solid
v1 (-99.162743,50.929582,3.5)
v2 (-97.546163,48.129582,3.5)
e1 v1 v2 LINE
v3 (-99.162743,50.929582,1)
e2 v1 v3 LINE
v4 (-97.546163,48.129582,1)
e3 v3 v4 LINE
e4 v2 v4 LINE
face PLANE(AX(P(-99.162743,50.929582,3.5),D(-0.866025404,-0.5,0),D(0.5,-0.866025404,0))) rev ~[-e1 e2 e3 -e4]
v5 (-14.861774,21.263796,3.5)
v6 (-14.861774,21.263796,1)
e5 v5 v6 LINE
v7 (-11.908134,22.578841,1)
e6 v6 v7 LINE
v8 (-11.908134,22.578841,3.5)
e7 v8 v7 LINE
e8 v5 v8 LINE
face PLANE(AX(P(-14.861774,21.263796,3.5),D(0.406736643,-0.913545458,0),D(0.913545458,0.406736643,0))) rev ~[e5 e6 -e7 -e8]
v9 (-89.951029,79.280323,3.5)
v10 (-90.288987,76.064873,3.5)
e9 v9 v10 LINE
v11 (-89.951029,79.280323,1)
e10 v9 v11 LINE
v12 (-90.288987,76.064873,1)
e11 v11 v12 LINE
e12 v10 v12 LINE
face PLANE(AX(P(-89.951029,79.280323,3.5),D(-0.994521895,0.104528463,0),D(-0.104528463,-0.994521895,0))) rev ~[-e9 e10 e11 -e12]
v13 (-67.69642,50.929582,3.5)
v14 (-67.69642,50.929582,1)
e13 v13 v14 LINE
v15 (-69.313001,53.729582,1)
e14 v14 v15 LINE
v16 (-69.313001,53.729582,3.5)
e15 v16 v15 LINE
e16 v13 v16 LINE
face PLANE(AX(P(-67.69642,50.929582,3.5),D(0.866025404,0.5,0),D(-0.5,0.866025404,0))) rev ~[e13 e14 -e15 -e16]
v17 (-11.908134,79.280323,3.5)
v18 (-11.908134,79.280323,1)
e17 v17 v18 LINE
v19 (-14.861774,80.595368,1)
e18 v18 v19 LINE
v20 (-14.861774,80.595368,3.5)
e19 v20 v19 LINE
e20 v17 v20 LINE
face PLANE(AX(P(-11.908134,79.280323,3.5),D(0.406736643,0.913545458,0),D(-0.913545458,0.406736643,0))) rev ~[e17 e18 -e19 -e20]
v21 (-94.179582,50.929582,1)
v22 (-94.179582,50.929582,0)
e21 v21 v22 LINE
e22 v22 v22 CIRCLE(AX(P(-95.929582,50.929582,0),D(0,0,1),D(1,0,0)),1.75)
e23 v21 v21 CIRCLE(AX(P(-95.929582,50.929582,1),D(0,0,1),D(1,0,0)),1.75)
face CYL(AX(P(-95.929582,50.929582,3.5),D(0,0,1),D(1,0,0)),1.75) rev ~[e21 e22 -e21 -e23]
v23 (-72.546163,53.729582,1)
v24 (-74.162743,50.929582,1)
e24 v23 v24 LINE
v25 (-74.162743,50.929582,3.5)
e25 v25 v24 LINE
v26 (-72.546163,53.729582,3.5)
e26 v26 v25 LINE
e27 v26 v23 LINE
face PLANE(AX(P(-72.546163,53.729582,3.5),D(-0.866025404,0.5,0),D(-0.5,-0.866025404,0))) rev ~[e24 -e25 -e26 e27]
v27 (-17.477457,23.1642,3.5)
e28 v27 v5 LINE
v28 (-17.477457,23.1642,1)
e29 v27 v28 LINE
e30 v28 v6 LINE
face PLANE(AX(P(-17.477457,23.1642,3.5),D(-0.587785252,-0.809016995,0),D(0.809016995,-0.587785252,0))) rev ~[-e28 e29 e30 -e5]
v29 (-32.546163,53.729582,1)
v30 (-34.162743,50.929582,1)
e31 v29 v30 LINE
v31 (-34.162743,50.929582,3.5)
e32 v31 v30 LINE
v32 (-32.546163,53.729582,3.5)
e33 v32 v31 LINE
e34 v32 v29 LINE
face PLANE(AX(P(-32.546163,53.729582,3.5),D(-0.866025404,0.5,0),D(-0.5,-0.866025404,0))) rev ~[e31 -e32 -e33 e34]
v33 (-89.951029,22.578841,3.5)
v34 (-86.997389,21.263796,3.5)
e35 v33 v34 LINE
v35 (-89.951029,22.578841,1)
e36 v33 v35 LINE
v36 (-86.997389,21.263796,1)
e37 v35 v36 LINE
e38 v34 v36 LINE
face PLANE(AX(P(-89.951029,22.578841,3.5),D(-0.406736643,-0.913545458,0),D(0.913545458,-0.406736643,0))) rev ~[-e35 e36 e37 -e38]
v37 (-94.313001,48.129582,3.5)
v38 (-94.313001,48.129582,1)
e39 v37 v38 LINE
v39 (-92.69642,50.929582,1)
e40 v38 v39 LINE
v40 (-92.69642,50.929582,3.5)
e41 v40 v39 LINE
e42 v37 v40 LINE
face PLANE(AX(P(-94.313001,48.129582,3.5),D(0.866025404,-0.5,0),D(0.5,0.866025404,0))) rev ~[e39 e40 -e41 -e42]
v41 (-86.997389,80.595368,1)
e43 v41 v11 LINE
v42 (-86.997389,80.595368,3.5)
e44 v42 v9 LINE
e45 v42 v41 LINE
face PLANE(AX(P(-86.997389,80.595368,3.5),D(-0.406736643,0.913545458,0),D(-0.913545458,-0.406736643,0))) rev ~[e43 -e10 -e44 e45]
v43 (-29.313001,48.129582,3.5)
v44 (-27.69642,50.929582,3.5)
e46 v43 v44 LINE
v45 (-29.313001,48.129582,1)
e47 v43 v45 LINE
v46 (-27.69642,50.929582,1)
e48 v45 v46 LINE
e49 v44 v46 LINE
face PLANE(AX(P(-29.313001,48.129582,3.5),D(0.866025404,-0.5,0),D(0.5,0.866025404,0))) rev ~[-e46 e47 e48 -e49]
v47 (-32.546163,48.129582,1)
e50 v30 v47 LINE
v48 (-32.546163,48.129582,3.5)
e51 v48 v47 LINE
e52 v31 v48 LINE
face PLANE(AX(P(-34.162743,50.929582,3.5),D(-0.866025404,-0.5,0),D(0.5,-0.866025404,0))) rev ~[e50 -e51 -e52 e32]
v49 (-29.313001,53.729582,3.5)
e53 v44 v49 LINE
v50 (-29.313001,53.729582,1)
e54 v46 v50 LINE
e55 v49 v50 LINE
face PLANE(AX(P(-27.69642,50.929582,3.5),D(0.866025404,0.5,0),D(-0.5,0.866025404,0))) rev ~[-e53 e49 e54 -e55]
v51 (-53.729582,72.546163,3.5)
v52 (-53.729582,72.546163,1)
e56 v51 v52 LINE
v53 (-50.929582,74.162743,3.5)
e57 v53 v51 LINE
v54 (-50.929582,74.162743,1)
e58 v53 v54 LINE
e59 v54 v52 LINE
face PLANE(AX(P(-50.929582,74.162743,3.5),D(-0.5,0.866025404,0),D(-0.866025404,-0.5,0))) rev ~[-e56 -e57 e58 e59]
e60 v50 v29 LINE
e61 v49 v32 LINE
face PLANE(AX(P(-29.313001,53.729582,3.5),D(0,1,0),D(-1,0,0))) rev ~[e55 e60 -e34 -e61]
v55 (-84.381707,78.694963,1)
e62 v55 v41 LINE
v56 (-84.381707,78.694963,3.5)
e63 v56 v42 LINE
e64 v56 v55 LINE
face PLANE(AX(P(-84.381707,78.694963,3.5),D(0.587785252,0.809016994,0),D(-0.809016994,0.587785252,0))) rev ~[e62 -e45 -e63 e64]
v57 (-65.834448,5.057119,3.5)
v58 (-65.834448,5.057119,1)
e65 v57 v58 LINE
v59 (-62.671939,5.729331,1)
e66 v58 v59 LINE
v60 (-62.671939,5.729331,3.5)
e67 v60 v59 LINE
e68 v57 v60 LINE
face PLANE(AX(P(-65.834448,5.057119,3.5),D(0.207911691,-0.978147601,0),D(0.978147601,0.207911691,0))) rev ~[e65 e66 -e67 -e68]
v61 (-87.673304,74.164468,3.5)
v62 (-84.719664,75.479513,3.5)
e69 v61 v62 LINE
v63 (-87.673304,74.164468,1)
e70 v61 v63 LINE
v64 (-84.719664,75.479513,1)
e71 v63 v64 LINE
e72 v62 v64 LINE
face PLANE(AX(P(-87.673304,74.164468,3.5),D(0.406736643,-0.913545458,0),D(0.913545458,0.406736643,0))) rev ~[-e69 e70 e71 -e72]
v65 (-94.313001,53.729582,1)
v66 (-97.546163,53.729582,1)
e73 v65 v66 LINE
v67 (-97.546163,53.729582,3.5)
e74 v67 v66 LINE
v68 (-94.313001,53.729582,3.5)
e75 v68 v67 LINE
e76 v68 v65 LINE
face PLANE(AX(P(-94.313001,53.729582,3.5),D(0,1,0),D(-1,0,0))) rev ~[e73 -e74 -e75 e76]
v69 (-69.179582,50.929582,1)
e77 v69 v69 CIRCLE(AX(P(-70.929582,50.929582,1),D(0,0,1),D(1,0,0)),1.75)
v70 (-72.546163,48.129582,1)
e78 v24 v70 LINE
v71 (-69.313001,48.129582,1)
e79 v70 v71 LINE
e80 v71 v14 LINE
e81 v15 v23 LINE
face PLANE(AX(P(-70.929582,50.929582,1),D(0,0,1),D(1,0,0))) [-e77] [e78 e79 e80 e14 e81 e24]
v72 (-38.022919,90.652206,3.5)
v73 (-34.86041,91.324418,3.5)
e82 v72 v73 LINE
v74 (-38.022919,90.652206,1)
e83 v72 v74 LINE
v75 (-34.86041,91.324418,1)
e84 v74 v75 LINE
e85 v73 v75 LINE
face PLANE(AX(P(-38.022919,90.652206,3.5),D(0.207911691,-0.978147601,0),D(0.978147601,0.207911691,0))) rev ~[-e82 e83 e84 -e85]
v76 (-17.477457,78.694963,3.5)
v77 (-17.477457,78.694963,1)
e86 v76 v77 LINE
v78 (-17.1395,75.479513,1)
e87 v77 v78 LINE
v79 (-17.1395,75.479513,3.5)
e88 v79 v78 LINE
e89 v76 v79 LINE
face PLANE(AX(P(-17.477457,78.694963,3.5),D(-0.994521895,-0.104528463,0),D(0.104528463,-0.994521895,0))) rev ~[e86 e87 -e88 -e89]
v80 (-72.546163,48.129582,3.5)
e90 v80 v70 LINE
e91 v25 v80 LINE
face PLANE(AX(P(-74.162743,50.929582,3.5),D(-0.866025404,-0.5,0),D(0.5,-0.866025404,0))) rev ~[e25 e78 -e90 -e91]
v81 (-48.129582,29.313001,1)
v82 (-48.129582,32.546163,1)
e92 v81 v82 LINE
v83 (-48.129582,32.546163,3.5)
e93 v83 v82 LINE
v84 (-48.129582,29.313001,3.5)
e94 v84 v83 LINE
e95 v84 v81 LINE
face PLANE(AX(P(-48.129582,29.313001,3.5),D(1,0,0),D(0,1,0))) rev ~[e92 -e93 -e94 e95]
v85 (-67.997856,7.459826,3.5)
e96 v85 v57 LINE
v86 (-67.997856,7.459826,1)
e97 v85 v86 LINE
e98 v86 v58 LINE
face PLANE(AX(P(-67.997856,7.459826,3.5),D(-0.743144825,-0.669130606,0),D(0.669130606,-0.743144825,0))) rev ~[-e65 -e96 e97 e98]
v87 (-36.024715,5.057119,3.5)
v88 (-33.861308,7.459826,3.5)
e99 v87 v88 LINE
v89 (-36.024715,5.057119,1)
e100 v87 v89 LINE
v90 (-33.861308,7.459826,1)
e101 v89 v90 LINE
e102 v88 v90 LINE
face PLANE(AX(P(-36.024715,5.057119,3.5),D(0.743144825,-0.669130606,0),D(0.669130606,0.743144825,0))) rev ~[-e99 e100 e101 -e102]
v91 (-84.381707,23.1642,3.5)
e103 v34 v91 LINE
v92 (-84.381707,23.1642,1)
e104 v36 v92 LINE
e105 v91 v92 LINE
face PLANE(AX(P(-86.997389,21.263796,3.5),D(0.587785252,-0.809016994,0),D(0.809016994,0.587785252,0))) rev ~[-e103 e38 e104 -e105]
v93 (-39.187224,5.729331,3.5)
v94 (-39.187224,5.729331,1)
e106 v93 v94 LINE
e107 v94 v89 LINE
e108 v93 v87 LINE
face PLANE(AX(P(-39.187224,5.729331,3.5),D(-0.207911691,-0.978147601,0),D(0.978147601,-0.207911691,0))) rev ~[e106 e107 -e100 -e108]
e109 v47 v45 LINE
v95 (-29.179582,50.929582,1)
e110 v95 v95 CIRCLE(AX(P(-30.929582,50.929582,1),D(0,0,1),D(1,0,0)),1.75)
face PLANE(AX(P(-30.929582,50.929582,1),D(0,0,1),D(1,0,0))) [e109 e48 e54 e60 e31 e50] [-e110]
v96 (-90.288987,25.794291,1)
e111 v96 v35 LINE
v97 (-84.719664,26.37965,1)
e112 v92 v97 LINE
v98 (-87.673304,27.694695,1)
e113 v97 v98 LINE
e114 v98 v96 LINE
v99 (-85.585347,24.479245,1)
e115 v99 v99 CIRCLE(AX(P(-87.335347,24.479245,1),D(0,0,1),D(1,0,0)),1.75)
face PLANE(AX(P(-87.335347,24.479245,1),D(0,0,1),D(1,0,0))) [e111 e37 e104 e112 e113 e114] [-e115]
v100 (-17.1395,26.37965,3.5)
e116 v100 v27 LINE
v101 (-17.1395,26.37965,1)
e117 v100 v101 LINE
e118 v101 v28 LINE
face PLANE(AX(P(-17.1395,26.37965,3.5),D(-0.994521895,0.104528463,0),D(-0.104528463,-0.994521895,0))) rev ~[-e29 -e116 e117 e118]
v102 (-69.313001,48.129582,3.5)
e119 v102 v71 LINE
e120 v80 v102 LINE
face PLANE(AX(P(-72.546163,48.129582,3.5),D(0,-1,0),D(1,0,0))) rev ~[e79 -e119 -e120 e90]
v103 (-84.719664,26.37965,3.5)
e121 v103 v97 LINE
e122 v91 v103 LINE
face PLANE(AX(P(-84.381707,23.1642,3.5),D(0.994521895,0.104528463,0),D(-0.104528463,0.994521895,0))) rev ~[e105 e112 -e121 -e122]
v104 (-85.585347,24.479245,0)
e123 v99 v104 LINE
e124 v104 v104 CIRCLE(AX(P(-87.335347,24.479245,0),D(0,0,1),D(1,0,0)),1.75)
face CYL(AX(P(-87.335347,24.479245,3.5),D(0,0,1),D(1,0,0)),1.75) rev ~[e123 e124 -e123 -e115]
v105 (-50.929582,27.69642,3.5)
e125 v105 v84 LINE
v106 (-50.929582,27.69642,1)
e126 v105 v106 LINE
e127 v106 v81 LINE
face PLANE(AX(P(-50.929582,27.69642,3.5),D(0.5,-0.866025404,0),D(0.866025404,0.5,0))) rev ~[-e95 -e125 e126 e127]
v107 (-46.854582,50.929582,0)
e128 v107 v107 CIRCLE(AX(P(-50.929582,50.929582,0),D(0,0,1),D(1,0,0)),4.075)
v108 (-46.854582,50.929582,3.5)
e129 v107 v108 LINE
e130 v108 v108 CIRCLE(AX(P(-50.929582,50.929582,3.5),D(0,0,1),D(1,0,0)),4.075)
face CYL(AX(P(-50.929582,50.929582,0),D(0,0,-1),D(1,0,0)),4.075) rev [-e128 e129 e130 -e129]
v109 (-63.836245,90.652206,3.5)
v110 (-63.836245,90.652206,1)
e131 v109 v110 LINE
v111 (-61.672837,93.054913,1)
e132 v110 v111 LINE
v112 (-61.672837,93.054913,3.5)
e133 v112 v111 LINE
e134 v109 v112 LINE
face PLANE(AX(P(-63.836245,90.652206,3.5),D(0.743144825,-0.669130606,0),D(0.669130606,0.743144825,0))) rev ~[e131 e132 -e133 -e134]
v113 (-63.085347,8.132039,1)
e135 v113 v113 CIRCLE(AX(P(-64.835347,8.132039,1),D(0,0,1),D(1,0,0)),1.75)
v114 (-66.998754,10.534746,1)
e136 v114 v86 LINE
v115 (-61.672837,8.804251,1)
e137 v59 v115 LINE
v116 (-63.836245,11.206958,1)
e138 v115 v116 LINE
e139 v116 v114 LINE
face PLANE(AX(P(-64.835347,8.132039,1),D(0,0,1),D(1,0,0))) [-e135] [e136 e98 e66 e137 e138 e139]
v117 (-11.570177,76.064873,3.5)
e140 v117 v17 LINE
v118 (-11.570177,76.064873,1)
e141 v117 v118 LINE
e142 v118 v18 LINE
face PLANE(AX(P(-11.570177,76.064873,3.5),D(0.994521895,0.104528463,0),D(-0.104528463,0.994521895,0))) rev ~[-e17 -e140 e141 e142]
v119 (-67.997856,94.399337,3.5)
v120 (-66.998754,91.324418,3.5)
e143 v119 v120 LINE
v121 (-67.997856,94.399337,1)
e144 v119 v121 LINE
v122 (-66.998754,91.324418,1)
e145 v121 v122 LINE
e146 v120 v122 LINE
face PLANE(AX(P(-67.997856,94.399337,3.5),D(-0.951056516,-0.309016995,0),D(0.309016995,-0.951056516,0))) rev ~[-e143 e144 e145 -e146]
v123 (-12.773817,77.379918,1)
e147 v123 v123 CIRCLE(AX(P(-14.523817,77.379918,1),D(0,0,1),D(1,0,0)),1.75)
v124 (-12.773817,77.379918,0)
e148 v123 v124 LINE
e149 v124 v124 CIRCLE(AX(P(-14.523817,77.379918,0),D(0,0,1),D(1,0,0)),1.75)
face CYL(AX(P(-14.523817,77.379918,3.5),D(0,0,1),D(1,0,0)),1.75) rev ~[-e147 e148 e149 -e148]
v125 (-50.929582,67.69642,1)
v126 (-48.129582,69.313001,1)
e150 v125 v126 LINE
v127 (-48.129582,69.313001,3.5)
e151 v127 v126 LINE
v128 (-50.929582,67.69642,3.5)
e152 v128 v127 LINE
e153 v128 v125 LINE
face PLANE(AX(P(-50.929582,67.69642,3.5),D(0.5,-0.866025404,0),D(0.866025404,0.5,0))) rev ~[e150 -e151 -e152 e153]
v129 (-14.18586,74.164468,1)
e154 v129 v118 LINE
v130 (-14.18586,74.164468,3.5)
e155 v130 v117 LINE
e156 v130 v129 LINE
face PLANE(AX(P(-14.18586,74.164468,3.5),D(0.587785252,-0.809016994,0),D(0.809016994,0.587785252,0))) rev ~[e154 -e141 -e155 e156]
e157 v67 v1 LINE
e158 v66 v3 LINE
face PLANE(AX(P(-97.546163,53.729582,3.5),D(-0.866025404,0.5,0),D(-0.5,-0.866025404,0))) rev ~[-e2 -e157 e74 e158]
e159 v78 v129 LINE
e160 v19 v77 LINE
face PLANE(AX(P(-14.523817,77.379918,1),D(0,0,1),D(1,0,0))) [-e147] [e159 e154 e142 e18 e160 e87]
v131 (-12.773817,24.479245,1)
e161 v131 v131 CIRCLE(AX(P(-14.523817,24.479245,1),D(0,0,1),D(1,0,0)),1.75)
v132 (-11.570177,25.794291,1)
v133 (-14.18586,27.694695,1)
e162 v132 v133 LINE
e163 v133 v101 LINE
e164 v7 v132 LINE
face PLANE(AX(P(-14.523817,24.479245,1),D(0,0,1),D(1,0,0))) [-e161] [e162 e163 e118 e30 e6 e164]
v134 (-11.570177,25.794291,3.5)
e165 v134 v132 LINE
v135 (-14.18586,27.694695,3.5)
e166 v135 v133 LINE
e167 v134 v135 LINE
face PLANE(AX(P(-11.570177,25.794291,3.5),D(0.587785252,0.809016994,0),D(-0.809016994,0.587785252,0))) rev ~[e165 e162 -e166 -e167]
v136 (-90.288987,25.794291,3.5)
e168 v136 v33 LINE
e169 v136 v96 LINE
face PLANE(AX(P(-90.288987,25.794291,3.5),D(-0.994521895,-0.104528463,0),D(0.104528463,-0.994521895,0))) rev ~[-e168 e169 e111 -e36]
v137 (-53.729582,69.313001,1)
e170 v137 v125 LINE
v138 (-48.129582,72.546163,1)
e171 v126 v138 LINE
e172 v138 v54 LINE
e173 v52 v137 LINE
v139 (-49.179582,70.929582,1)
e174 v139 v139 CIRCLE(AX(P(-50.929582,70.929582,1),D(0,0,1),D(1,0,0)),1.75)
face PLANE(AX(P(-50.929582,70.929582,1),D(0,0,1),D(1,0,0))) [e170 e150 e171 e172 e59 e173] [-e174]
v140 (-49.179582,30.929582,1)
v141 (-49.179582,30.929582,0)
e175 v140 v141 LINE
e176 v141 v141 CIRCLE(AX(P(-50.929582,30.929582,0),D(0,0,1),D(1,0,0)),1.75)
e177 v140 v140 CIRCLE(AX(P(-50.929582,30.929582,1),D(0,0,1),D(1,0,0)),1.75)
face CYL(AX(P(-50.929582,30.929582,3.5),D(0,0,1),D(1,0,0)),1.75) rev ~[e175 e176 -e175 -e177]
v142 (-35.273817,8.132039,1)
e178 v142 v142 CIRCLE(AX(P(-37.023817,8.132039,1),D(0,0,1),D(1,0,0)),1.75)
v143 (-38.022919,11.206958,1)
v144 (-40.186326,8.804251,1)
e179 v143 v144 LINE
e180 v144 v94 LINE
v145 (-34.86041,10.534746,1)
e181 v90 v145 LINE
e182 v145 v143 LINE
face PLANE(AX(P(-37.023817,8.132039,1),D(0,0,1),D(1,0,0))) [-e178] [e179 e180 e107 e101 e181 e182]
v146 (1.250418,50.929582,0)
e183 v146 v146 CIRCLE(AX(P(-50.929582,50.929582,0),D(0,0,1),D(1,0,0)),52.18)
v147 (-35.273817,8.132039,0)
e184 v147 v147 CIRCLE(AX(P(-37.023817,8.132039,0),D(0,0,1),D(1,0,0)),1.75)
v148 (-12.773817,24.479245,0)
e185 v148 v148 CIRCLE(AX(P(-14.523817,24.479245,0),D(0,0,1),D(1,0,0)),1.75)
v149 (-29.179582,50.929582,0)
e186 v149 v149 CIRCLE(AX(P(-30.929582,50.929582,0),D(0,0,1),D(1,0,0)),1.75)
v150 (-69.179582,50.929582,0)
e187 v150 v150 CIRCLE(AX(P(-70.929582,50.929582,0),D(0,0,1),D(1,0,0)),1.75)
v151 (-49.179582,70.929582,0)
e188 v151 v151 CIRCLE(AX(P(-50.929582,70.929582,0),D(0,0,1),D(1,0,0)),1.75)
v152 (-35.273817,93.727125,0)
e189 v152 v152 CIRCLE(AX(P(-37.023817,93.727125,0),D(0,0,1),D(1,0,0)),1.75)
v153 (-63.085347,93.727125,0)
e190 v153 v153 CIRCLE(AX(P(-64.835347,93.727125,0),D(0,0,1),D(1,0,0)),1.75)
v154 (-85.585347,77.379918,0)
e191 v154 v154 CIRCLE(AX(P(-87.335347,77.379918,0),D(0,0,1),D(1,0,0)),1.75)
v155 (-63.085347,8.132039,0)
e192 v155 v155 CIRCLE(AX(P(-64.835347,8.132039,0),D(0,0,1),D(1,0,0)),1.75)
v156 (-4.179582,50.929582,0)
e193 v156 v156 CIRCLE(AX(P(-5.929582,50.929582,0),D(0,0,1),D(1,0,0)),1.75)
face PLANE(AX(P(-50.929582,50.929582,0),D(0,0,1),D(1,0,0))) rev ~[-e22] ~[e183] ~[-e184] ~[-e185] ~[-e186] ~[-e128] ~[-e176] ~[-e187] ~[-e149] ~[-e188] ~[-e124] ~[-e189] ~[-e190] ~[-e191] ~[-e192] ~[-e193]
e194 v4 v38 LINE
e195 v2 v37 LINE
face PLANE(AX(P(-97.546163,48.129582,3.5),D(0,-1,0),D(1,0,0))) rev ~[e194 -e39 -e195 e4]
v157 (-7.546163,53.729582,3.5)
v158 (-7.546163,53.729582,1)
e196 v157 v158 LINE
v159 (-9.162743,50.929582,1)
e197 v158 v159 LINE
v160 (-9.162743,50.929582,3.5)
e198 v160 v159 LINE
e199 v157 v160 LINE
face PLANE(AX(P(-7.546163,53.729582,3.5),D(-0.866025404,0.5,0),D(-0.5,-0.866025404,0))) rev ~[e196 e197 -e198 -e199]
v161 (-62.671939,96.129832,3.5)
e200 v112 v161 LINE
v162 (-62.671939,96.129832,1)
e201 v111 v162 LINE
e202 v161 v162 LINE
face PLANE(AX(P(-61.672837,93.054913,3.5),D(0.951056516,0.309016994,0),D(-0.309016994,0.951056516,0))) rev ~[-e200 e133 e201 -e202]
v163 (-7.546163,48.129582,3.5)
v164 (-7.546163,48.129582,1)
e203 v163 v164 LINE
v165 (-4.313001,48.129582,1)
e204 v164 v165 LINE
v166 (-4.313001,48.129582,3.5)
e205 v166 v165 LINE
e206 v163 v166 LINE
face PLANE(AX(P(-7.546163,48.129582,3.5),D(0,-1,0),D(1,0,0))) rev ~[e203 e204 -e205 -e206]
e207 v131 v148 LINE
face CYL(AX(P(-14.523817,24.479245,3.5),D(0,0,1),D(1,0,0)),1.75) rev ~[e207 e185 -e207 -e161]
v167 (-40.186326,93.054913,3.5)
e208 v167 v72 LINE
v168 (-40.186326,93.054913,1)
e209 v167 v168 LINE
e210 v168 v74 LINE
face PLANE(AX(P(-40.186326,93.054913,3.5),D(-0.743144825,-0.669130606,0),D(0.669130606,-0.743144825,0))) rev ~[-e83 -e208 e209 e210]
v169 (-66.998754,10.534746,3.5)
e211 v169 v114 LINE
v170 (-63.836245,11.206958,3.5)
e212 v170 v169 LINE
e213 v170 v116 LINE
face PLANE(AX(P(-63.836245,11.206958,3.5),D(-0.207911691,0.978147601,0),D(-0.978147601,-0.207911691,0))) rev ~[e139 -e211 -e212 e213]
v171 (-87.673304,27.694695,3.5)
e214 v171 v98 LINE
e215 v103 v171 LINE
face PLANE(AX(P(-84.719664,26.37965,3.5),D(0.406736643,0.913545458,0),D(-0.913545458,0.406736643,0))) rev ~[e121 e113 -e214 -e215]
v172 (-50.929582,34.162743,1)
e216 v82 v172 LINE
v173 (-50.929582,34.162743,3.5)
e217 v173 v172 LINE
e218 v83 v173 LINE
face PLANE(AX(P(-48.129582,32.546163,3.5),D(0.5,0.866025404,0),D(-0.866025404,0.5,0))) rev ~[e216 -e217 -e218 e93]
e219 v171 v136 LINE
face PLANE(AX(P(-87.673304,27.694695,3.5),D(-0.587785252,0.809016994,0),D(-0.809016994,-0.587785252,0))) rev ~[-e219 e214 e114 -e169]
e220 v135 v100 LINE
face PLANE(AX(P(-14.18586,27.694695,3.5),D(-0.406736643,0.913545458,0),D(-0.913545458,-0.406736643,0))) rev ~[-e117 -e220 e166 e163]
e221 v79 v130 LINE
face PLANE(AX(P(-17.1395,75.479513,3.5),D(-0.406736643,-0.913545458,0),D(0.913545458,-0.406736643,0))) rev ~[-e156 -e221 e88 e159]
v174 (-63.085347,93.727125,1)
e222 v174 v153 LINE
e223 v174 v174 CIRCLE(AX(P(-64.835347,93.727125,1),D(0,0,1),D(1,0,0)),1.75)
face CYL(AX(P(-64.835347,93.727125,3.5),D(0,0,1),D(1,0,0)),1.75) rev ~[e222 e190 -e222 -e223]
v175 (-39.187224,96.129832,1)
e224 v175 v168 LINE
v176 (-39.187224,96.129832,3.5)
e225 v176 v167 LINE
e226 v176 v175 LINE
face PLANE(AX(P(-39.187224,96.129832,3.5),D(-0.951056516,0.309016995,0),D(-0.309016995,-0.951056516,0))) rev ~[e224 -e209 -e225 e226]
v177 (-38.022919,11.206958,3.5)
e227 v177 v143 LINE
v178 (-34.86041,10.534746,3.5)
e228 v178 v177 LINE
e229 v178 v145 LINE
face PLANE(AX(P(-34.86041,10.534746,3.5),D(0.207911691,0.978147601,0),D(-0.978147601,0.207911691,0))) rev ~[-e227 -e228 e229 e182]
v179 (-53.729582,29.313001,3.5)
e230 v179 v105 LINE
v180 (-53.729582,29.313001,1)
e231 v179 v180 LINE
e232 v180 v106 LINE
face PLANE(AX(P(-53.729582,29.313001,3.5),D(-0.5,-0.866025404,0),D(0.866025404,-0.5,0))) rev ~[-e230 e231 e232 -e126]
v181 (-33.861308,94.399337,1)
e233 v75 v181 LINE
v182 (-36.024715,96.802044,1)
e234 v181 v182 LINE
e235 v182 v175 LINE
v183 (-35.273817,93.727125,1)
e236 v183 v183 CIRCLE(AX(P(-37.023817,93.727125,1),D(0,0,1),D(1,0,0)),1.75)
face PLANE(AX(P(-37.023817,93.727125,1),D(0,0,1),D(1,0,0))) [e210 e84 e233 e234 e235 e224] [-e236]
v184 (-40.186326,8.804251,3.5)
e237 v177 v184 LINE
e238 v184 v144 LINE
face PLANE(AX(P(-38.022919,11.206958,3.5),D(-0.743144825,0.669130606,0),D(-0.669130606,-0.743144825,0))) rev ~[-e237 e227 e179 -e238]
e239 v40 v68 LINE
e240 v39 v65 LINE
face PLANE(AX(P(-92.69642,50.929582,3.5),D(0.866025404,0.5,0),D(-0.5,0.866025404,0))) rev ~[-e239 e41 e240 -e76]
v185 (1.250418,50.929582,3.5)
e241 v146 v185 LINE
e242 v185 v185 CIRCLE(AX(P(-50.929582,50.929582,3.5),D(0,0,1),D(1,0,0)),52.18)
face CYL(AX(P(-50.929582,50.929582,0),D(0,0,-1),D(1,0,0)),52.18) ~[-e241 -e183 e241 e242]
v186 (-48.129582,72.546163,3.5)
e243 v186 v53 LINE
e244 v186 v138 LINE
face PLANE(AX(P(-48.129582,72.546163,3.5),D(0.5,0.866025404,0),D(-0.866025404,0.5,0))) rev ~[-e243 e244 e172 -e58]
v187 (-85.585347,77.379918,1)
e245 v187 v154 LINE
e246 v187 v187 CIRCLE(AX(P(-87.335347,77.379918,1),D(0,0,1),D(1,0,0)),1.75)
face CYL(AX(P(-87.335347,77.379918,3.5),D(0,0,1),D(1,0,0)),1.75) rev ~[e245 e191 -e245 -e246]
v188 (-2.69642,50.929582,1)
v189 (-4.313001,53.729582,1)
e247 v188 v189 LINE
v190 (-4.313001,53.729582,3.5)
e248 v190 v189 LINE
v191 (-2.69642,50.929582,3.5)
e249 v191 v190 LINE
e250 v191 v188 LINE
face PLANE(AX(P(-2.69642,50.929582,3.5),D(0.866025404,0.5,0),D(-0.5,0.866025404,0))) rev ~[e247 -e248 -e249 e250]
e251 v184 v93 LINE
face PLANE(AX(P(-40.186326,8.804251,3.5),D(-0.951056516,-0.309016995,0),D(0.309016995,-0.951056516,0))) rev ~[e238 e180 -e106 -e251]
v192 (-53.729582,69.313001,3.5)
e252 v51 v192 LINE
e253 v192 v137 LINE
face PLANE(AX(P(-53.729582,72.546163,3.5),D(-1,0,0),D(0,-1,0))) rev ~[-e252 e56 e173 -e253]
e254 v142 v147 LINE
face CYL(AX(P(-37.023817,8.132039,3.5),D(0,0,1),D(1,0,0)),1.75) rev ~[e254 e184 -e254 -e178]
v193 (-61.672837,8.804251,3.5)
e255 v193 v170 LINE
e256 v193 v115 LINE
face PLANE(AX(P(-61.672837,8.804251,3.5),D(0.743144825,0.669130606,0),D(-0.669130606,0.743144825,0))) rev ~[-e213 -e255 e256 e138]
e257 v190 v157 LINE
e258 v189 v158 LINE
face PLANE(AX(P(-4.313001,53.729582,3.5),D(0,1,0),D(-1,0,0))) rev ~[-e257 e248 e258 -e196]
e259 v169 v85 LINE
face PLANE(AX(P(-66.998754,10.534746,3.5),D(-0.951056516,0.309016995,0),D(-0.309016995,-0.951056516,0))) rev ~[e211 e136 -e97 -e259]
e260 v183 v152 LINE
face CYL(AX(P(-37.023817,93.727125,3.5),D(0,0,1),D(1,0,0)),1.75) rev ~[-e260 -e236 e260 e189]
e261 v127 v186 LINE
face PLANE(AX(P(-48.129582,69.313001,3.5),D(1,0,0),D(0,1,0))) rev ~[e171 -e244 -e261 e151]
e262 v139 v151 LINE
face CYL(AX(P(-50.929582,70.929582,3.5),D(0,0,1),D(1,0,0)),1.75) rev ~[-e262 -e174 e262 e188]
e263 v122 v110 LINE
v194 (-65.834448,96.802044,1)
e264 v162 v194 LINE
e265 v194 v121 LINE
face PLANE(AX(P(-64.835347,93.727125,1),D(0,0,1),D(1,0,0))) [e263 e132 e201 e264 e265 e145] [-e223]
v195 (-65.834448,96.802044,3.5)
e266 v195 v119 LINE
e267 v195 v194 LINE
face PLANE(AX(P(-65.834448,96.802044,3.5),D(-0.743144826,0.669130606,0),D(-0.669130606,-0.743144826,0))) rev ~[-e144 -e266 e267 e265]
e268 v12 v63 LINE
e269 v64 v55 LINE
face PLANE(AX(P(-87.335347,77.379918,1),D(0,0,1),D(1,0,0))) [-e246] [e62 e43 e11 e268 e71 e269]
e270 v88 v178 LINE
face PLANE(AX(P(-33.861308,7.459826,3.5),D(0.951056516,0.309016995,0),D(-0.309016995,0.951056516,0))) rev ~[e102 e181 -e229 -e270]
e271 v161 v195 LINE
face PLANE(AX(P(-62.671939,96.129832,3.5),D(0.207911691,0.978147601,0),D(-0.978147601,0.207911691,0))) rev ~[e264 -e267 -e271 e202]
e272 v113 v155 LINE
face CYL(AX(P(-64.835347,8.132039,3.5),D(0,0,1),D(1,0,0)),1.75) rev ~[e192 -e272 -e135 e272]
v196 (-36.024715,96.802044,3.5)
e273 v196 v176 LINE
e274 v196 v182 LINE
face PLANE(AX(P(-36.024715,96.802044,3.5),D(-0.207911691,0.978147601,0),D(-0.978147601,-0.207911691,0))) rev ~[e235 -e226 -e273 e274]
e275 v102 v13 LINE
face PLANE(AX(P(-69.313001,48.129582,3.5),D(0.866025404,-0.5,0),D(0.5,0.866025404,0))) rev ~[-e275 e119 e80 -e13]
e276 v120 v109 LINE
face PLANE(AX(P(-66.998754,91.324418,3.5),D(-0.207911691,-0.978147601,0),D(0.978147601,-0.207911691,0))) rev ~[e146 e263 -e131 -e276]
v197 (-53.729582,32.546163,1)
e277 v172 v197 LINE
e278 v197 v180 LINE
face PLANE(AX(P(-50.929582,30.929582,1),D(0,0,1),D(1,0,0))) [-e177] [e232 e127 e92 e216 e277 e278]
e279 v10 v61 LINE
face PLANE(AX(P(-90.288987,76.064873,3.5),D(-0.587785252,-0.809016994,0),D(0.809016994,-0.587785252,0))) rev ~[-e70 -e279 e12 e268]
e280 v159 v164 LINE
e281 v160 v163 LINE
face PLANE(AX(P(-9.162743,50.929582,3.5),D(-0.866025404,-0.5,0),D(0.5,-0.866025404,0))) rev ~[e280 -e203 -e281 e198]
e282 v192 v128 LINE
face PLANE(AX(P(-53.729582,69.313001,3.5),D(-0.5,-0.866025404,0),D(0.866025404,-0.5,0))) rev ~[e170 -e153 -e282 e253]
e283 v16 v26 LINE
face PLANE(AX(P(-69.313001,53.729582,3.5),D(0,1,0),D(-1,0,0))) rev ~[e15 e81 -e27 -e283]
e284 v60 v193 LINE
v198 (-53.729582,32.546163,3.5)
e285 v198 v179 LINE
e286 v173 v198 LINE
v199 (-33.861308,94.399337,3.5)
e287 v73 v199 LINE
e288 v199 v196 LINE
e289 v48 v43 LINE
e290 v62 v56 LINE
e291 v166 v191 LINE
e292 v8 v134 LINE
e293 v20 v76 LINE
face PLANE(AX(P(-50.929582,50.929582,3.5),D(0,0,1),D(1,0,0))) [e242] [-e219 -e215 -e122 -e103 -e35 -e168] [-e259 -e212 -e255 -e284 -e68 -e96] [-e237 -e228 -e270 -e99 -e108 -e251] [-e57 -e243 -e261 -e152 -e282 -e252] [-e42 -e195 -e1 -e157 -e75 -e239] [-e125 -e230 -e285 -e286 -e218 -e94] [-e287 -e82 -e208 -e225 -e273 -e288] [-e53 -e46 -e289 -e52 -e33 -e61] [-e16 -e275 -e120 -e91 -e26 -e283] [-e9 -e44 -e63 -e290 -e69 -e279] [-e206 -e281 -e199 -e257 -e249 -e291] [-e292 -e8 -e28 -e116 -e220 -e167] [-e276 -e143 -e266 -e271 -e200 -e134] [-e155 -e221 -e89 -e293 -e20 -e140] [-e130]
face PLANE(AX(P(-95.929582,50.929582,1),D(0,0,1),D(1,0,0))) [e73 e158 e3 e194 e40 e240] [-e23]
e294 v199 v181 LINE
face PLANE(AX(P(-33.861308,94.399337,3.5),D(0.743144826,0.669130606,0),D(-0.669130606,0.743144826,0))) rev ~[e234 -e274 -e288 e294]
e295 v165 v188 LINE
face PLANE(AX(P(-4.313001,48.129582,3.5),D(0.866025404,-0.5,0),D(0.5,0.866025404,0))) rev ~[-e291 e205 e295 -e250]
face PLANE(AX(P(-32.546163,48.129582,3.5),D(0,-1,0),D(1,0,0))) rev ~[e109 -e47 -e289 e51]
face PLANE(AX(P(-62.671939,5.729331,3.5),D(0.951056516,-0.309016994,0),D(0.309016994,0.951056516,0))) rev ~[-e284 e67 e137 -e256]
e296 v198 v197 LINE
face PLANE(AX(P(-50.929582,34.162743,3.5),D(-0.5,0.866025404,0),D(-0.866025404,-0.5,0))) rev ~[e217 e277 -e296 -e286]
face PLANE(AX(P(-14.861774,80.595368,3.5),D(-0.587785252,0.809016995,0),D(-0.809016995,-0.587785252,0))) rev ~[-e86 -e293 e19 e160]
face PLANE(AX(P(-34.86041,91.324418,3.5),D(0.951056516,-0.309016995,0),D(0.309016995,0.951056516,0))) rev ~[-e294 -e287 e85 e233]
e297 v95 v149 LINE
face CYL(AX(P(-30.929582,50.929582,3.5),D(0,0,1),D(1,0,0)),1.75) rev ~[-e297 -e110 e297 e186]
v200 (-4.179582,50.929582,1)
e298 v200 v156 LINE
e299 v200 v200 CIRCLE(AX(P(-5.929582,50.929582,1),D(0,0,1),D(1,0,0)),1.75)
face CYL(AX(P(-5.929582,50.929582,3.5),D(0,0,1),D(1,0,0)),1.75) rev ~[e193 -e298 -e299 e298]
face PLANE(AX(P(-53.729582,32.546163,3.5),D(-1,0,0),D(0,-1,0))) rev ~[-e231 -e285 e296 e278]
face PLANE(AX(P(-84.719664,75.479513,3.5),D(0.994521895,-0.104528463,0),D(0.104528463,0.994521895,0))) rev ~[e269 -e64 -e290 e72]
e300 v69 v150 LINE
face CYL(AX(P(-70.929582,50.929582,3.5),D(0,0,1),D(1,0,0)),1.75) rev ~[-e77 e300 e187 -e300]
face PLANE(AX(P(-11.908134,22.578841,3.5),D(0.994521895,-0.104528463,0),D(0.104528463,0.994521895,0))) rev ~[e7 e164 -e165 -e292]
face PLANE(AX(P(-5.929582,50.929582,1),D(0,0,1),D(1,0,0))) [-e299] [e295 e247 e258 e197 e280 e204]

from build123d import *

# Parameters (mm, degrees)
SKETCH2_R           = 52.18
SKETCH2_R_2         = 4.075
BOSS_EXTRUDE2_DEPTH = 3.5
CUT_EXTRUDE1_DEPTH  = 2.5
SKETCH4_R           = 1.75
CUT_EXTRUDE2_DEPTH  = 146.860967066


with BuildPart() as part:
    # Sketch2 → Boss-Extrude2 (new body)
    with BuildSketch(Plane.XY):
        with Locations((-50.929581789, 50.929581789)):
            Circle(SKETCH2_R)
        with Locations((-50.929581789, 50.929581789)):
            Circle(SKETCH2_R_2, mode=Mode.SUBTRACT)
    extrude(amount=BOSS_EXTRUDE2_DEPTH)

    # Sketch3 → Cut-Extrude1 (cut)
    with BuildSketch(Plane.XY.offset(3.5)):
        Polygon((-53.729581789, 32.546162543), (-53.729581789, 29.313001036), (-50.929581789, 27.696420282), (-48.129581789, 29.313001036), (-48.129581789, 32.546162543), (-50.929581789, 34.162743297), align=None)
        Polygon((-32.546162543, 48.129581789), (-29.313001036, 48.129581789), (-27.696420282, 50.929581789), (-29.313001036, 53.729581789), (-32.546162543, 53.729581789), (-34.162743297, 50.929581789), align=None)
        Polygon((-7.546162543, 48.129581789), (-4.313001036, 48.129581789), (-2.696420282, 50.929581789), (-4.313001036, 53.729581789), (-7.546162543, 53.729581789), (-9.162743297, 50.929581789), align=None)
        Polygon((-69.313001036, 53.729581789), (-72.546162543, 53.729581789), (-74.162743297, 50.929581789), (-72.546162543, 48.129581789), (-69.313001036, 48.129581789), (-67.696420282, 50.929581789), align=None)
        Polygon((-48.129581789, 69.313001036), (-48.129581789, 72.546162543), (-50.929581789, 74.162743297), (-53.729581789, 72.546162543), (-53.729581789, 69.313001036), (-50.929581789, 67.696420282), align=None)
        Polygon((-17.477457052, 23.164200178), (-14.861774446, 21.263795526), (-11.908134437, 22.578840784), (-11.570177034, 25.794290694), (-14.185859639, 27.694695347), (-17.139499648, 26.379650089), align=None)
        Polygon((-40.186326214, 8.804250632), (-39.187224362, 5.729331312), (-36.024715191, 5.057119236), (-33.861307871, 7.45982648), (-34.860409723, 10.5347458), (-38.022918894, 11.206957876), align=None)
        Polygon((-66.998753856, 10.5347458), (-67.997855708, 7.45982648), (-65.834448388, 5.057119236), (-62.671939216, 5.729331312), (-61.672837365, 8.804250632), (-63.836244685, 11.206957876), align=None)
        Polygon((-87.67330394, 27.694695347), (-90.288986545, 25.794290694), (-89.951029141, 22.578840784), (-86.997389132, 21.263795526), (-84.381706527, 23.164200178), (-84.719663931, 26.379650089), align=None)
        Polygon((-94.313001036, 53.729581789), (-97.546162543, 53.729581789), (-99.162743297, 50.929581789), (-97.546162543, 48.129581789), (-94.313001036, 48.129581789), (-92.696420282, 50.929581789), align=None)
        Polygon((-84.381706527, 78.694963401), (-86.997389132, 80.595368053), (-89.951029141, 79.280322795), (-90.288986545, 76.064872885), (-87.67330394, 74.164468232), (-84.719663931, 75.47951349), align=None)
        Polygon((-61.672837365, 93.054912947), (-62.671939216, 96.129832267), (-65.834448388, 96.802044343), (-67.997855708, 94.399337098), (-66.998753856, 91.324417778), (-63.836244685, 90.652205703), align=None)
        Polygon((-34.860409723, 91.324417778), (-33.861307871, 94.399337098), (-36.024715191, 96.802044343), (-39.187224362, 96.129832267), (-40.186326214, 93.054912947), (-38.022918894, 90.652205703), align=None)
        Polygon((-14.185859639, 74.164468232), (-11.570177034, 76.064872885), (-11.908134437, 79.280322795), (-14.861774446, 80.595368053), (-17.477457052, 78.694963401), (-17.139499648, 75.47951349), align=None)
    extrude(amount=-CUT_EXTRUDE1_DEPTH, mode=Mode.SUBTRACT)

    # Sketch4 → Cut-Extrude2 (cut, through all)
    with BuildSketch(Plane.XY.offset(3.5)):
        with Locations((-30.929581789, 50.929581789)):
            Circle(SKETCH4_R)
        with Locations((-5.929581789, 50.929581789)):
            Circle(SKETCH4_R)
        with Locations((-50.929581789, 30.929581789)):
            Circle(SKETCH4_R)
        with Locations((-70.929581789, 50.929581789)):
            Circle(SKETCH4_R)
        with Locations((-50.929581789, 70.929581789)):
            Circle(SKETCH4_R)
        with Locations((-14.523817043, 24.479245436)):
            Circle(SKETCH4_R)
        with Locations((-37.023817043, 8.132038556)):
            Circle(SKETCH4_R)
        with Locations((-64.835346536, 8.132038556)):
            Circle(SKETCH4_R)
        with Locations((-87.335346536, 24.479245436)):
            Circle(SKETCH4_R)
        with Locations((-95.929581789, 50.929581789)):
            Circle(SKETCH4_R)
        with Locations((-87.335346536, 77.379918143)):
            Circle(SKETCH4_R)
        with Locations((-64.835346536, 93.727125023)):
            Circle(SKETCH4_R)
        with Locations((-37.023817043, 93.727125023)):
            Circle(SKETCH4_R)
        with Locations((-14.523817043, 77.379918143)):
            Circle(SKETCH4_R)
    extrude(amount=-CUT_EXTRUDE2_DEPTH, mode=Mode.SUBTRACT)


solid = part.part
